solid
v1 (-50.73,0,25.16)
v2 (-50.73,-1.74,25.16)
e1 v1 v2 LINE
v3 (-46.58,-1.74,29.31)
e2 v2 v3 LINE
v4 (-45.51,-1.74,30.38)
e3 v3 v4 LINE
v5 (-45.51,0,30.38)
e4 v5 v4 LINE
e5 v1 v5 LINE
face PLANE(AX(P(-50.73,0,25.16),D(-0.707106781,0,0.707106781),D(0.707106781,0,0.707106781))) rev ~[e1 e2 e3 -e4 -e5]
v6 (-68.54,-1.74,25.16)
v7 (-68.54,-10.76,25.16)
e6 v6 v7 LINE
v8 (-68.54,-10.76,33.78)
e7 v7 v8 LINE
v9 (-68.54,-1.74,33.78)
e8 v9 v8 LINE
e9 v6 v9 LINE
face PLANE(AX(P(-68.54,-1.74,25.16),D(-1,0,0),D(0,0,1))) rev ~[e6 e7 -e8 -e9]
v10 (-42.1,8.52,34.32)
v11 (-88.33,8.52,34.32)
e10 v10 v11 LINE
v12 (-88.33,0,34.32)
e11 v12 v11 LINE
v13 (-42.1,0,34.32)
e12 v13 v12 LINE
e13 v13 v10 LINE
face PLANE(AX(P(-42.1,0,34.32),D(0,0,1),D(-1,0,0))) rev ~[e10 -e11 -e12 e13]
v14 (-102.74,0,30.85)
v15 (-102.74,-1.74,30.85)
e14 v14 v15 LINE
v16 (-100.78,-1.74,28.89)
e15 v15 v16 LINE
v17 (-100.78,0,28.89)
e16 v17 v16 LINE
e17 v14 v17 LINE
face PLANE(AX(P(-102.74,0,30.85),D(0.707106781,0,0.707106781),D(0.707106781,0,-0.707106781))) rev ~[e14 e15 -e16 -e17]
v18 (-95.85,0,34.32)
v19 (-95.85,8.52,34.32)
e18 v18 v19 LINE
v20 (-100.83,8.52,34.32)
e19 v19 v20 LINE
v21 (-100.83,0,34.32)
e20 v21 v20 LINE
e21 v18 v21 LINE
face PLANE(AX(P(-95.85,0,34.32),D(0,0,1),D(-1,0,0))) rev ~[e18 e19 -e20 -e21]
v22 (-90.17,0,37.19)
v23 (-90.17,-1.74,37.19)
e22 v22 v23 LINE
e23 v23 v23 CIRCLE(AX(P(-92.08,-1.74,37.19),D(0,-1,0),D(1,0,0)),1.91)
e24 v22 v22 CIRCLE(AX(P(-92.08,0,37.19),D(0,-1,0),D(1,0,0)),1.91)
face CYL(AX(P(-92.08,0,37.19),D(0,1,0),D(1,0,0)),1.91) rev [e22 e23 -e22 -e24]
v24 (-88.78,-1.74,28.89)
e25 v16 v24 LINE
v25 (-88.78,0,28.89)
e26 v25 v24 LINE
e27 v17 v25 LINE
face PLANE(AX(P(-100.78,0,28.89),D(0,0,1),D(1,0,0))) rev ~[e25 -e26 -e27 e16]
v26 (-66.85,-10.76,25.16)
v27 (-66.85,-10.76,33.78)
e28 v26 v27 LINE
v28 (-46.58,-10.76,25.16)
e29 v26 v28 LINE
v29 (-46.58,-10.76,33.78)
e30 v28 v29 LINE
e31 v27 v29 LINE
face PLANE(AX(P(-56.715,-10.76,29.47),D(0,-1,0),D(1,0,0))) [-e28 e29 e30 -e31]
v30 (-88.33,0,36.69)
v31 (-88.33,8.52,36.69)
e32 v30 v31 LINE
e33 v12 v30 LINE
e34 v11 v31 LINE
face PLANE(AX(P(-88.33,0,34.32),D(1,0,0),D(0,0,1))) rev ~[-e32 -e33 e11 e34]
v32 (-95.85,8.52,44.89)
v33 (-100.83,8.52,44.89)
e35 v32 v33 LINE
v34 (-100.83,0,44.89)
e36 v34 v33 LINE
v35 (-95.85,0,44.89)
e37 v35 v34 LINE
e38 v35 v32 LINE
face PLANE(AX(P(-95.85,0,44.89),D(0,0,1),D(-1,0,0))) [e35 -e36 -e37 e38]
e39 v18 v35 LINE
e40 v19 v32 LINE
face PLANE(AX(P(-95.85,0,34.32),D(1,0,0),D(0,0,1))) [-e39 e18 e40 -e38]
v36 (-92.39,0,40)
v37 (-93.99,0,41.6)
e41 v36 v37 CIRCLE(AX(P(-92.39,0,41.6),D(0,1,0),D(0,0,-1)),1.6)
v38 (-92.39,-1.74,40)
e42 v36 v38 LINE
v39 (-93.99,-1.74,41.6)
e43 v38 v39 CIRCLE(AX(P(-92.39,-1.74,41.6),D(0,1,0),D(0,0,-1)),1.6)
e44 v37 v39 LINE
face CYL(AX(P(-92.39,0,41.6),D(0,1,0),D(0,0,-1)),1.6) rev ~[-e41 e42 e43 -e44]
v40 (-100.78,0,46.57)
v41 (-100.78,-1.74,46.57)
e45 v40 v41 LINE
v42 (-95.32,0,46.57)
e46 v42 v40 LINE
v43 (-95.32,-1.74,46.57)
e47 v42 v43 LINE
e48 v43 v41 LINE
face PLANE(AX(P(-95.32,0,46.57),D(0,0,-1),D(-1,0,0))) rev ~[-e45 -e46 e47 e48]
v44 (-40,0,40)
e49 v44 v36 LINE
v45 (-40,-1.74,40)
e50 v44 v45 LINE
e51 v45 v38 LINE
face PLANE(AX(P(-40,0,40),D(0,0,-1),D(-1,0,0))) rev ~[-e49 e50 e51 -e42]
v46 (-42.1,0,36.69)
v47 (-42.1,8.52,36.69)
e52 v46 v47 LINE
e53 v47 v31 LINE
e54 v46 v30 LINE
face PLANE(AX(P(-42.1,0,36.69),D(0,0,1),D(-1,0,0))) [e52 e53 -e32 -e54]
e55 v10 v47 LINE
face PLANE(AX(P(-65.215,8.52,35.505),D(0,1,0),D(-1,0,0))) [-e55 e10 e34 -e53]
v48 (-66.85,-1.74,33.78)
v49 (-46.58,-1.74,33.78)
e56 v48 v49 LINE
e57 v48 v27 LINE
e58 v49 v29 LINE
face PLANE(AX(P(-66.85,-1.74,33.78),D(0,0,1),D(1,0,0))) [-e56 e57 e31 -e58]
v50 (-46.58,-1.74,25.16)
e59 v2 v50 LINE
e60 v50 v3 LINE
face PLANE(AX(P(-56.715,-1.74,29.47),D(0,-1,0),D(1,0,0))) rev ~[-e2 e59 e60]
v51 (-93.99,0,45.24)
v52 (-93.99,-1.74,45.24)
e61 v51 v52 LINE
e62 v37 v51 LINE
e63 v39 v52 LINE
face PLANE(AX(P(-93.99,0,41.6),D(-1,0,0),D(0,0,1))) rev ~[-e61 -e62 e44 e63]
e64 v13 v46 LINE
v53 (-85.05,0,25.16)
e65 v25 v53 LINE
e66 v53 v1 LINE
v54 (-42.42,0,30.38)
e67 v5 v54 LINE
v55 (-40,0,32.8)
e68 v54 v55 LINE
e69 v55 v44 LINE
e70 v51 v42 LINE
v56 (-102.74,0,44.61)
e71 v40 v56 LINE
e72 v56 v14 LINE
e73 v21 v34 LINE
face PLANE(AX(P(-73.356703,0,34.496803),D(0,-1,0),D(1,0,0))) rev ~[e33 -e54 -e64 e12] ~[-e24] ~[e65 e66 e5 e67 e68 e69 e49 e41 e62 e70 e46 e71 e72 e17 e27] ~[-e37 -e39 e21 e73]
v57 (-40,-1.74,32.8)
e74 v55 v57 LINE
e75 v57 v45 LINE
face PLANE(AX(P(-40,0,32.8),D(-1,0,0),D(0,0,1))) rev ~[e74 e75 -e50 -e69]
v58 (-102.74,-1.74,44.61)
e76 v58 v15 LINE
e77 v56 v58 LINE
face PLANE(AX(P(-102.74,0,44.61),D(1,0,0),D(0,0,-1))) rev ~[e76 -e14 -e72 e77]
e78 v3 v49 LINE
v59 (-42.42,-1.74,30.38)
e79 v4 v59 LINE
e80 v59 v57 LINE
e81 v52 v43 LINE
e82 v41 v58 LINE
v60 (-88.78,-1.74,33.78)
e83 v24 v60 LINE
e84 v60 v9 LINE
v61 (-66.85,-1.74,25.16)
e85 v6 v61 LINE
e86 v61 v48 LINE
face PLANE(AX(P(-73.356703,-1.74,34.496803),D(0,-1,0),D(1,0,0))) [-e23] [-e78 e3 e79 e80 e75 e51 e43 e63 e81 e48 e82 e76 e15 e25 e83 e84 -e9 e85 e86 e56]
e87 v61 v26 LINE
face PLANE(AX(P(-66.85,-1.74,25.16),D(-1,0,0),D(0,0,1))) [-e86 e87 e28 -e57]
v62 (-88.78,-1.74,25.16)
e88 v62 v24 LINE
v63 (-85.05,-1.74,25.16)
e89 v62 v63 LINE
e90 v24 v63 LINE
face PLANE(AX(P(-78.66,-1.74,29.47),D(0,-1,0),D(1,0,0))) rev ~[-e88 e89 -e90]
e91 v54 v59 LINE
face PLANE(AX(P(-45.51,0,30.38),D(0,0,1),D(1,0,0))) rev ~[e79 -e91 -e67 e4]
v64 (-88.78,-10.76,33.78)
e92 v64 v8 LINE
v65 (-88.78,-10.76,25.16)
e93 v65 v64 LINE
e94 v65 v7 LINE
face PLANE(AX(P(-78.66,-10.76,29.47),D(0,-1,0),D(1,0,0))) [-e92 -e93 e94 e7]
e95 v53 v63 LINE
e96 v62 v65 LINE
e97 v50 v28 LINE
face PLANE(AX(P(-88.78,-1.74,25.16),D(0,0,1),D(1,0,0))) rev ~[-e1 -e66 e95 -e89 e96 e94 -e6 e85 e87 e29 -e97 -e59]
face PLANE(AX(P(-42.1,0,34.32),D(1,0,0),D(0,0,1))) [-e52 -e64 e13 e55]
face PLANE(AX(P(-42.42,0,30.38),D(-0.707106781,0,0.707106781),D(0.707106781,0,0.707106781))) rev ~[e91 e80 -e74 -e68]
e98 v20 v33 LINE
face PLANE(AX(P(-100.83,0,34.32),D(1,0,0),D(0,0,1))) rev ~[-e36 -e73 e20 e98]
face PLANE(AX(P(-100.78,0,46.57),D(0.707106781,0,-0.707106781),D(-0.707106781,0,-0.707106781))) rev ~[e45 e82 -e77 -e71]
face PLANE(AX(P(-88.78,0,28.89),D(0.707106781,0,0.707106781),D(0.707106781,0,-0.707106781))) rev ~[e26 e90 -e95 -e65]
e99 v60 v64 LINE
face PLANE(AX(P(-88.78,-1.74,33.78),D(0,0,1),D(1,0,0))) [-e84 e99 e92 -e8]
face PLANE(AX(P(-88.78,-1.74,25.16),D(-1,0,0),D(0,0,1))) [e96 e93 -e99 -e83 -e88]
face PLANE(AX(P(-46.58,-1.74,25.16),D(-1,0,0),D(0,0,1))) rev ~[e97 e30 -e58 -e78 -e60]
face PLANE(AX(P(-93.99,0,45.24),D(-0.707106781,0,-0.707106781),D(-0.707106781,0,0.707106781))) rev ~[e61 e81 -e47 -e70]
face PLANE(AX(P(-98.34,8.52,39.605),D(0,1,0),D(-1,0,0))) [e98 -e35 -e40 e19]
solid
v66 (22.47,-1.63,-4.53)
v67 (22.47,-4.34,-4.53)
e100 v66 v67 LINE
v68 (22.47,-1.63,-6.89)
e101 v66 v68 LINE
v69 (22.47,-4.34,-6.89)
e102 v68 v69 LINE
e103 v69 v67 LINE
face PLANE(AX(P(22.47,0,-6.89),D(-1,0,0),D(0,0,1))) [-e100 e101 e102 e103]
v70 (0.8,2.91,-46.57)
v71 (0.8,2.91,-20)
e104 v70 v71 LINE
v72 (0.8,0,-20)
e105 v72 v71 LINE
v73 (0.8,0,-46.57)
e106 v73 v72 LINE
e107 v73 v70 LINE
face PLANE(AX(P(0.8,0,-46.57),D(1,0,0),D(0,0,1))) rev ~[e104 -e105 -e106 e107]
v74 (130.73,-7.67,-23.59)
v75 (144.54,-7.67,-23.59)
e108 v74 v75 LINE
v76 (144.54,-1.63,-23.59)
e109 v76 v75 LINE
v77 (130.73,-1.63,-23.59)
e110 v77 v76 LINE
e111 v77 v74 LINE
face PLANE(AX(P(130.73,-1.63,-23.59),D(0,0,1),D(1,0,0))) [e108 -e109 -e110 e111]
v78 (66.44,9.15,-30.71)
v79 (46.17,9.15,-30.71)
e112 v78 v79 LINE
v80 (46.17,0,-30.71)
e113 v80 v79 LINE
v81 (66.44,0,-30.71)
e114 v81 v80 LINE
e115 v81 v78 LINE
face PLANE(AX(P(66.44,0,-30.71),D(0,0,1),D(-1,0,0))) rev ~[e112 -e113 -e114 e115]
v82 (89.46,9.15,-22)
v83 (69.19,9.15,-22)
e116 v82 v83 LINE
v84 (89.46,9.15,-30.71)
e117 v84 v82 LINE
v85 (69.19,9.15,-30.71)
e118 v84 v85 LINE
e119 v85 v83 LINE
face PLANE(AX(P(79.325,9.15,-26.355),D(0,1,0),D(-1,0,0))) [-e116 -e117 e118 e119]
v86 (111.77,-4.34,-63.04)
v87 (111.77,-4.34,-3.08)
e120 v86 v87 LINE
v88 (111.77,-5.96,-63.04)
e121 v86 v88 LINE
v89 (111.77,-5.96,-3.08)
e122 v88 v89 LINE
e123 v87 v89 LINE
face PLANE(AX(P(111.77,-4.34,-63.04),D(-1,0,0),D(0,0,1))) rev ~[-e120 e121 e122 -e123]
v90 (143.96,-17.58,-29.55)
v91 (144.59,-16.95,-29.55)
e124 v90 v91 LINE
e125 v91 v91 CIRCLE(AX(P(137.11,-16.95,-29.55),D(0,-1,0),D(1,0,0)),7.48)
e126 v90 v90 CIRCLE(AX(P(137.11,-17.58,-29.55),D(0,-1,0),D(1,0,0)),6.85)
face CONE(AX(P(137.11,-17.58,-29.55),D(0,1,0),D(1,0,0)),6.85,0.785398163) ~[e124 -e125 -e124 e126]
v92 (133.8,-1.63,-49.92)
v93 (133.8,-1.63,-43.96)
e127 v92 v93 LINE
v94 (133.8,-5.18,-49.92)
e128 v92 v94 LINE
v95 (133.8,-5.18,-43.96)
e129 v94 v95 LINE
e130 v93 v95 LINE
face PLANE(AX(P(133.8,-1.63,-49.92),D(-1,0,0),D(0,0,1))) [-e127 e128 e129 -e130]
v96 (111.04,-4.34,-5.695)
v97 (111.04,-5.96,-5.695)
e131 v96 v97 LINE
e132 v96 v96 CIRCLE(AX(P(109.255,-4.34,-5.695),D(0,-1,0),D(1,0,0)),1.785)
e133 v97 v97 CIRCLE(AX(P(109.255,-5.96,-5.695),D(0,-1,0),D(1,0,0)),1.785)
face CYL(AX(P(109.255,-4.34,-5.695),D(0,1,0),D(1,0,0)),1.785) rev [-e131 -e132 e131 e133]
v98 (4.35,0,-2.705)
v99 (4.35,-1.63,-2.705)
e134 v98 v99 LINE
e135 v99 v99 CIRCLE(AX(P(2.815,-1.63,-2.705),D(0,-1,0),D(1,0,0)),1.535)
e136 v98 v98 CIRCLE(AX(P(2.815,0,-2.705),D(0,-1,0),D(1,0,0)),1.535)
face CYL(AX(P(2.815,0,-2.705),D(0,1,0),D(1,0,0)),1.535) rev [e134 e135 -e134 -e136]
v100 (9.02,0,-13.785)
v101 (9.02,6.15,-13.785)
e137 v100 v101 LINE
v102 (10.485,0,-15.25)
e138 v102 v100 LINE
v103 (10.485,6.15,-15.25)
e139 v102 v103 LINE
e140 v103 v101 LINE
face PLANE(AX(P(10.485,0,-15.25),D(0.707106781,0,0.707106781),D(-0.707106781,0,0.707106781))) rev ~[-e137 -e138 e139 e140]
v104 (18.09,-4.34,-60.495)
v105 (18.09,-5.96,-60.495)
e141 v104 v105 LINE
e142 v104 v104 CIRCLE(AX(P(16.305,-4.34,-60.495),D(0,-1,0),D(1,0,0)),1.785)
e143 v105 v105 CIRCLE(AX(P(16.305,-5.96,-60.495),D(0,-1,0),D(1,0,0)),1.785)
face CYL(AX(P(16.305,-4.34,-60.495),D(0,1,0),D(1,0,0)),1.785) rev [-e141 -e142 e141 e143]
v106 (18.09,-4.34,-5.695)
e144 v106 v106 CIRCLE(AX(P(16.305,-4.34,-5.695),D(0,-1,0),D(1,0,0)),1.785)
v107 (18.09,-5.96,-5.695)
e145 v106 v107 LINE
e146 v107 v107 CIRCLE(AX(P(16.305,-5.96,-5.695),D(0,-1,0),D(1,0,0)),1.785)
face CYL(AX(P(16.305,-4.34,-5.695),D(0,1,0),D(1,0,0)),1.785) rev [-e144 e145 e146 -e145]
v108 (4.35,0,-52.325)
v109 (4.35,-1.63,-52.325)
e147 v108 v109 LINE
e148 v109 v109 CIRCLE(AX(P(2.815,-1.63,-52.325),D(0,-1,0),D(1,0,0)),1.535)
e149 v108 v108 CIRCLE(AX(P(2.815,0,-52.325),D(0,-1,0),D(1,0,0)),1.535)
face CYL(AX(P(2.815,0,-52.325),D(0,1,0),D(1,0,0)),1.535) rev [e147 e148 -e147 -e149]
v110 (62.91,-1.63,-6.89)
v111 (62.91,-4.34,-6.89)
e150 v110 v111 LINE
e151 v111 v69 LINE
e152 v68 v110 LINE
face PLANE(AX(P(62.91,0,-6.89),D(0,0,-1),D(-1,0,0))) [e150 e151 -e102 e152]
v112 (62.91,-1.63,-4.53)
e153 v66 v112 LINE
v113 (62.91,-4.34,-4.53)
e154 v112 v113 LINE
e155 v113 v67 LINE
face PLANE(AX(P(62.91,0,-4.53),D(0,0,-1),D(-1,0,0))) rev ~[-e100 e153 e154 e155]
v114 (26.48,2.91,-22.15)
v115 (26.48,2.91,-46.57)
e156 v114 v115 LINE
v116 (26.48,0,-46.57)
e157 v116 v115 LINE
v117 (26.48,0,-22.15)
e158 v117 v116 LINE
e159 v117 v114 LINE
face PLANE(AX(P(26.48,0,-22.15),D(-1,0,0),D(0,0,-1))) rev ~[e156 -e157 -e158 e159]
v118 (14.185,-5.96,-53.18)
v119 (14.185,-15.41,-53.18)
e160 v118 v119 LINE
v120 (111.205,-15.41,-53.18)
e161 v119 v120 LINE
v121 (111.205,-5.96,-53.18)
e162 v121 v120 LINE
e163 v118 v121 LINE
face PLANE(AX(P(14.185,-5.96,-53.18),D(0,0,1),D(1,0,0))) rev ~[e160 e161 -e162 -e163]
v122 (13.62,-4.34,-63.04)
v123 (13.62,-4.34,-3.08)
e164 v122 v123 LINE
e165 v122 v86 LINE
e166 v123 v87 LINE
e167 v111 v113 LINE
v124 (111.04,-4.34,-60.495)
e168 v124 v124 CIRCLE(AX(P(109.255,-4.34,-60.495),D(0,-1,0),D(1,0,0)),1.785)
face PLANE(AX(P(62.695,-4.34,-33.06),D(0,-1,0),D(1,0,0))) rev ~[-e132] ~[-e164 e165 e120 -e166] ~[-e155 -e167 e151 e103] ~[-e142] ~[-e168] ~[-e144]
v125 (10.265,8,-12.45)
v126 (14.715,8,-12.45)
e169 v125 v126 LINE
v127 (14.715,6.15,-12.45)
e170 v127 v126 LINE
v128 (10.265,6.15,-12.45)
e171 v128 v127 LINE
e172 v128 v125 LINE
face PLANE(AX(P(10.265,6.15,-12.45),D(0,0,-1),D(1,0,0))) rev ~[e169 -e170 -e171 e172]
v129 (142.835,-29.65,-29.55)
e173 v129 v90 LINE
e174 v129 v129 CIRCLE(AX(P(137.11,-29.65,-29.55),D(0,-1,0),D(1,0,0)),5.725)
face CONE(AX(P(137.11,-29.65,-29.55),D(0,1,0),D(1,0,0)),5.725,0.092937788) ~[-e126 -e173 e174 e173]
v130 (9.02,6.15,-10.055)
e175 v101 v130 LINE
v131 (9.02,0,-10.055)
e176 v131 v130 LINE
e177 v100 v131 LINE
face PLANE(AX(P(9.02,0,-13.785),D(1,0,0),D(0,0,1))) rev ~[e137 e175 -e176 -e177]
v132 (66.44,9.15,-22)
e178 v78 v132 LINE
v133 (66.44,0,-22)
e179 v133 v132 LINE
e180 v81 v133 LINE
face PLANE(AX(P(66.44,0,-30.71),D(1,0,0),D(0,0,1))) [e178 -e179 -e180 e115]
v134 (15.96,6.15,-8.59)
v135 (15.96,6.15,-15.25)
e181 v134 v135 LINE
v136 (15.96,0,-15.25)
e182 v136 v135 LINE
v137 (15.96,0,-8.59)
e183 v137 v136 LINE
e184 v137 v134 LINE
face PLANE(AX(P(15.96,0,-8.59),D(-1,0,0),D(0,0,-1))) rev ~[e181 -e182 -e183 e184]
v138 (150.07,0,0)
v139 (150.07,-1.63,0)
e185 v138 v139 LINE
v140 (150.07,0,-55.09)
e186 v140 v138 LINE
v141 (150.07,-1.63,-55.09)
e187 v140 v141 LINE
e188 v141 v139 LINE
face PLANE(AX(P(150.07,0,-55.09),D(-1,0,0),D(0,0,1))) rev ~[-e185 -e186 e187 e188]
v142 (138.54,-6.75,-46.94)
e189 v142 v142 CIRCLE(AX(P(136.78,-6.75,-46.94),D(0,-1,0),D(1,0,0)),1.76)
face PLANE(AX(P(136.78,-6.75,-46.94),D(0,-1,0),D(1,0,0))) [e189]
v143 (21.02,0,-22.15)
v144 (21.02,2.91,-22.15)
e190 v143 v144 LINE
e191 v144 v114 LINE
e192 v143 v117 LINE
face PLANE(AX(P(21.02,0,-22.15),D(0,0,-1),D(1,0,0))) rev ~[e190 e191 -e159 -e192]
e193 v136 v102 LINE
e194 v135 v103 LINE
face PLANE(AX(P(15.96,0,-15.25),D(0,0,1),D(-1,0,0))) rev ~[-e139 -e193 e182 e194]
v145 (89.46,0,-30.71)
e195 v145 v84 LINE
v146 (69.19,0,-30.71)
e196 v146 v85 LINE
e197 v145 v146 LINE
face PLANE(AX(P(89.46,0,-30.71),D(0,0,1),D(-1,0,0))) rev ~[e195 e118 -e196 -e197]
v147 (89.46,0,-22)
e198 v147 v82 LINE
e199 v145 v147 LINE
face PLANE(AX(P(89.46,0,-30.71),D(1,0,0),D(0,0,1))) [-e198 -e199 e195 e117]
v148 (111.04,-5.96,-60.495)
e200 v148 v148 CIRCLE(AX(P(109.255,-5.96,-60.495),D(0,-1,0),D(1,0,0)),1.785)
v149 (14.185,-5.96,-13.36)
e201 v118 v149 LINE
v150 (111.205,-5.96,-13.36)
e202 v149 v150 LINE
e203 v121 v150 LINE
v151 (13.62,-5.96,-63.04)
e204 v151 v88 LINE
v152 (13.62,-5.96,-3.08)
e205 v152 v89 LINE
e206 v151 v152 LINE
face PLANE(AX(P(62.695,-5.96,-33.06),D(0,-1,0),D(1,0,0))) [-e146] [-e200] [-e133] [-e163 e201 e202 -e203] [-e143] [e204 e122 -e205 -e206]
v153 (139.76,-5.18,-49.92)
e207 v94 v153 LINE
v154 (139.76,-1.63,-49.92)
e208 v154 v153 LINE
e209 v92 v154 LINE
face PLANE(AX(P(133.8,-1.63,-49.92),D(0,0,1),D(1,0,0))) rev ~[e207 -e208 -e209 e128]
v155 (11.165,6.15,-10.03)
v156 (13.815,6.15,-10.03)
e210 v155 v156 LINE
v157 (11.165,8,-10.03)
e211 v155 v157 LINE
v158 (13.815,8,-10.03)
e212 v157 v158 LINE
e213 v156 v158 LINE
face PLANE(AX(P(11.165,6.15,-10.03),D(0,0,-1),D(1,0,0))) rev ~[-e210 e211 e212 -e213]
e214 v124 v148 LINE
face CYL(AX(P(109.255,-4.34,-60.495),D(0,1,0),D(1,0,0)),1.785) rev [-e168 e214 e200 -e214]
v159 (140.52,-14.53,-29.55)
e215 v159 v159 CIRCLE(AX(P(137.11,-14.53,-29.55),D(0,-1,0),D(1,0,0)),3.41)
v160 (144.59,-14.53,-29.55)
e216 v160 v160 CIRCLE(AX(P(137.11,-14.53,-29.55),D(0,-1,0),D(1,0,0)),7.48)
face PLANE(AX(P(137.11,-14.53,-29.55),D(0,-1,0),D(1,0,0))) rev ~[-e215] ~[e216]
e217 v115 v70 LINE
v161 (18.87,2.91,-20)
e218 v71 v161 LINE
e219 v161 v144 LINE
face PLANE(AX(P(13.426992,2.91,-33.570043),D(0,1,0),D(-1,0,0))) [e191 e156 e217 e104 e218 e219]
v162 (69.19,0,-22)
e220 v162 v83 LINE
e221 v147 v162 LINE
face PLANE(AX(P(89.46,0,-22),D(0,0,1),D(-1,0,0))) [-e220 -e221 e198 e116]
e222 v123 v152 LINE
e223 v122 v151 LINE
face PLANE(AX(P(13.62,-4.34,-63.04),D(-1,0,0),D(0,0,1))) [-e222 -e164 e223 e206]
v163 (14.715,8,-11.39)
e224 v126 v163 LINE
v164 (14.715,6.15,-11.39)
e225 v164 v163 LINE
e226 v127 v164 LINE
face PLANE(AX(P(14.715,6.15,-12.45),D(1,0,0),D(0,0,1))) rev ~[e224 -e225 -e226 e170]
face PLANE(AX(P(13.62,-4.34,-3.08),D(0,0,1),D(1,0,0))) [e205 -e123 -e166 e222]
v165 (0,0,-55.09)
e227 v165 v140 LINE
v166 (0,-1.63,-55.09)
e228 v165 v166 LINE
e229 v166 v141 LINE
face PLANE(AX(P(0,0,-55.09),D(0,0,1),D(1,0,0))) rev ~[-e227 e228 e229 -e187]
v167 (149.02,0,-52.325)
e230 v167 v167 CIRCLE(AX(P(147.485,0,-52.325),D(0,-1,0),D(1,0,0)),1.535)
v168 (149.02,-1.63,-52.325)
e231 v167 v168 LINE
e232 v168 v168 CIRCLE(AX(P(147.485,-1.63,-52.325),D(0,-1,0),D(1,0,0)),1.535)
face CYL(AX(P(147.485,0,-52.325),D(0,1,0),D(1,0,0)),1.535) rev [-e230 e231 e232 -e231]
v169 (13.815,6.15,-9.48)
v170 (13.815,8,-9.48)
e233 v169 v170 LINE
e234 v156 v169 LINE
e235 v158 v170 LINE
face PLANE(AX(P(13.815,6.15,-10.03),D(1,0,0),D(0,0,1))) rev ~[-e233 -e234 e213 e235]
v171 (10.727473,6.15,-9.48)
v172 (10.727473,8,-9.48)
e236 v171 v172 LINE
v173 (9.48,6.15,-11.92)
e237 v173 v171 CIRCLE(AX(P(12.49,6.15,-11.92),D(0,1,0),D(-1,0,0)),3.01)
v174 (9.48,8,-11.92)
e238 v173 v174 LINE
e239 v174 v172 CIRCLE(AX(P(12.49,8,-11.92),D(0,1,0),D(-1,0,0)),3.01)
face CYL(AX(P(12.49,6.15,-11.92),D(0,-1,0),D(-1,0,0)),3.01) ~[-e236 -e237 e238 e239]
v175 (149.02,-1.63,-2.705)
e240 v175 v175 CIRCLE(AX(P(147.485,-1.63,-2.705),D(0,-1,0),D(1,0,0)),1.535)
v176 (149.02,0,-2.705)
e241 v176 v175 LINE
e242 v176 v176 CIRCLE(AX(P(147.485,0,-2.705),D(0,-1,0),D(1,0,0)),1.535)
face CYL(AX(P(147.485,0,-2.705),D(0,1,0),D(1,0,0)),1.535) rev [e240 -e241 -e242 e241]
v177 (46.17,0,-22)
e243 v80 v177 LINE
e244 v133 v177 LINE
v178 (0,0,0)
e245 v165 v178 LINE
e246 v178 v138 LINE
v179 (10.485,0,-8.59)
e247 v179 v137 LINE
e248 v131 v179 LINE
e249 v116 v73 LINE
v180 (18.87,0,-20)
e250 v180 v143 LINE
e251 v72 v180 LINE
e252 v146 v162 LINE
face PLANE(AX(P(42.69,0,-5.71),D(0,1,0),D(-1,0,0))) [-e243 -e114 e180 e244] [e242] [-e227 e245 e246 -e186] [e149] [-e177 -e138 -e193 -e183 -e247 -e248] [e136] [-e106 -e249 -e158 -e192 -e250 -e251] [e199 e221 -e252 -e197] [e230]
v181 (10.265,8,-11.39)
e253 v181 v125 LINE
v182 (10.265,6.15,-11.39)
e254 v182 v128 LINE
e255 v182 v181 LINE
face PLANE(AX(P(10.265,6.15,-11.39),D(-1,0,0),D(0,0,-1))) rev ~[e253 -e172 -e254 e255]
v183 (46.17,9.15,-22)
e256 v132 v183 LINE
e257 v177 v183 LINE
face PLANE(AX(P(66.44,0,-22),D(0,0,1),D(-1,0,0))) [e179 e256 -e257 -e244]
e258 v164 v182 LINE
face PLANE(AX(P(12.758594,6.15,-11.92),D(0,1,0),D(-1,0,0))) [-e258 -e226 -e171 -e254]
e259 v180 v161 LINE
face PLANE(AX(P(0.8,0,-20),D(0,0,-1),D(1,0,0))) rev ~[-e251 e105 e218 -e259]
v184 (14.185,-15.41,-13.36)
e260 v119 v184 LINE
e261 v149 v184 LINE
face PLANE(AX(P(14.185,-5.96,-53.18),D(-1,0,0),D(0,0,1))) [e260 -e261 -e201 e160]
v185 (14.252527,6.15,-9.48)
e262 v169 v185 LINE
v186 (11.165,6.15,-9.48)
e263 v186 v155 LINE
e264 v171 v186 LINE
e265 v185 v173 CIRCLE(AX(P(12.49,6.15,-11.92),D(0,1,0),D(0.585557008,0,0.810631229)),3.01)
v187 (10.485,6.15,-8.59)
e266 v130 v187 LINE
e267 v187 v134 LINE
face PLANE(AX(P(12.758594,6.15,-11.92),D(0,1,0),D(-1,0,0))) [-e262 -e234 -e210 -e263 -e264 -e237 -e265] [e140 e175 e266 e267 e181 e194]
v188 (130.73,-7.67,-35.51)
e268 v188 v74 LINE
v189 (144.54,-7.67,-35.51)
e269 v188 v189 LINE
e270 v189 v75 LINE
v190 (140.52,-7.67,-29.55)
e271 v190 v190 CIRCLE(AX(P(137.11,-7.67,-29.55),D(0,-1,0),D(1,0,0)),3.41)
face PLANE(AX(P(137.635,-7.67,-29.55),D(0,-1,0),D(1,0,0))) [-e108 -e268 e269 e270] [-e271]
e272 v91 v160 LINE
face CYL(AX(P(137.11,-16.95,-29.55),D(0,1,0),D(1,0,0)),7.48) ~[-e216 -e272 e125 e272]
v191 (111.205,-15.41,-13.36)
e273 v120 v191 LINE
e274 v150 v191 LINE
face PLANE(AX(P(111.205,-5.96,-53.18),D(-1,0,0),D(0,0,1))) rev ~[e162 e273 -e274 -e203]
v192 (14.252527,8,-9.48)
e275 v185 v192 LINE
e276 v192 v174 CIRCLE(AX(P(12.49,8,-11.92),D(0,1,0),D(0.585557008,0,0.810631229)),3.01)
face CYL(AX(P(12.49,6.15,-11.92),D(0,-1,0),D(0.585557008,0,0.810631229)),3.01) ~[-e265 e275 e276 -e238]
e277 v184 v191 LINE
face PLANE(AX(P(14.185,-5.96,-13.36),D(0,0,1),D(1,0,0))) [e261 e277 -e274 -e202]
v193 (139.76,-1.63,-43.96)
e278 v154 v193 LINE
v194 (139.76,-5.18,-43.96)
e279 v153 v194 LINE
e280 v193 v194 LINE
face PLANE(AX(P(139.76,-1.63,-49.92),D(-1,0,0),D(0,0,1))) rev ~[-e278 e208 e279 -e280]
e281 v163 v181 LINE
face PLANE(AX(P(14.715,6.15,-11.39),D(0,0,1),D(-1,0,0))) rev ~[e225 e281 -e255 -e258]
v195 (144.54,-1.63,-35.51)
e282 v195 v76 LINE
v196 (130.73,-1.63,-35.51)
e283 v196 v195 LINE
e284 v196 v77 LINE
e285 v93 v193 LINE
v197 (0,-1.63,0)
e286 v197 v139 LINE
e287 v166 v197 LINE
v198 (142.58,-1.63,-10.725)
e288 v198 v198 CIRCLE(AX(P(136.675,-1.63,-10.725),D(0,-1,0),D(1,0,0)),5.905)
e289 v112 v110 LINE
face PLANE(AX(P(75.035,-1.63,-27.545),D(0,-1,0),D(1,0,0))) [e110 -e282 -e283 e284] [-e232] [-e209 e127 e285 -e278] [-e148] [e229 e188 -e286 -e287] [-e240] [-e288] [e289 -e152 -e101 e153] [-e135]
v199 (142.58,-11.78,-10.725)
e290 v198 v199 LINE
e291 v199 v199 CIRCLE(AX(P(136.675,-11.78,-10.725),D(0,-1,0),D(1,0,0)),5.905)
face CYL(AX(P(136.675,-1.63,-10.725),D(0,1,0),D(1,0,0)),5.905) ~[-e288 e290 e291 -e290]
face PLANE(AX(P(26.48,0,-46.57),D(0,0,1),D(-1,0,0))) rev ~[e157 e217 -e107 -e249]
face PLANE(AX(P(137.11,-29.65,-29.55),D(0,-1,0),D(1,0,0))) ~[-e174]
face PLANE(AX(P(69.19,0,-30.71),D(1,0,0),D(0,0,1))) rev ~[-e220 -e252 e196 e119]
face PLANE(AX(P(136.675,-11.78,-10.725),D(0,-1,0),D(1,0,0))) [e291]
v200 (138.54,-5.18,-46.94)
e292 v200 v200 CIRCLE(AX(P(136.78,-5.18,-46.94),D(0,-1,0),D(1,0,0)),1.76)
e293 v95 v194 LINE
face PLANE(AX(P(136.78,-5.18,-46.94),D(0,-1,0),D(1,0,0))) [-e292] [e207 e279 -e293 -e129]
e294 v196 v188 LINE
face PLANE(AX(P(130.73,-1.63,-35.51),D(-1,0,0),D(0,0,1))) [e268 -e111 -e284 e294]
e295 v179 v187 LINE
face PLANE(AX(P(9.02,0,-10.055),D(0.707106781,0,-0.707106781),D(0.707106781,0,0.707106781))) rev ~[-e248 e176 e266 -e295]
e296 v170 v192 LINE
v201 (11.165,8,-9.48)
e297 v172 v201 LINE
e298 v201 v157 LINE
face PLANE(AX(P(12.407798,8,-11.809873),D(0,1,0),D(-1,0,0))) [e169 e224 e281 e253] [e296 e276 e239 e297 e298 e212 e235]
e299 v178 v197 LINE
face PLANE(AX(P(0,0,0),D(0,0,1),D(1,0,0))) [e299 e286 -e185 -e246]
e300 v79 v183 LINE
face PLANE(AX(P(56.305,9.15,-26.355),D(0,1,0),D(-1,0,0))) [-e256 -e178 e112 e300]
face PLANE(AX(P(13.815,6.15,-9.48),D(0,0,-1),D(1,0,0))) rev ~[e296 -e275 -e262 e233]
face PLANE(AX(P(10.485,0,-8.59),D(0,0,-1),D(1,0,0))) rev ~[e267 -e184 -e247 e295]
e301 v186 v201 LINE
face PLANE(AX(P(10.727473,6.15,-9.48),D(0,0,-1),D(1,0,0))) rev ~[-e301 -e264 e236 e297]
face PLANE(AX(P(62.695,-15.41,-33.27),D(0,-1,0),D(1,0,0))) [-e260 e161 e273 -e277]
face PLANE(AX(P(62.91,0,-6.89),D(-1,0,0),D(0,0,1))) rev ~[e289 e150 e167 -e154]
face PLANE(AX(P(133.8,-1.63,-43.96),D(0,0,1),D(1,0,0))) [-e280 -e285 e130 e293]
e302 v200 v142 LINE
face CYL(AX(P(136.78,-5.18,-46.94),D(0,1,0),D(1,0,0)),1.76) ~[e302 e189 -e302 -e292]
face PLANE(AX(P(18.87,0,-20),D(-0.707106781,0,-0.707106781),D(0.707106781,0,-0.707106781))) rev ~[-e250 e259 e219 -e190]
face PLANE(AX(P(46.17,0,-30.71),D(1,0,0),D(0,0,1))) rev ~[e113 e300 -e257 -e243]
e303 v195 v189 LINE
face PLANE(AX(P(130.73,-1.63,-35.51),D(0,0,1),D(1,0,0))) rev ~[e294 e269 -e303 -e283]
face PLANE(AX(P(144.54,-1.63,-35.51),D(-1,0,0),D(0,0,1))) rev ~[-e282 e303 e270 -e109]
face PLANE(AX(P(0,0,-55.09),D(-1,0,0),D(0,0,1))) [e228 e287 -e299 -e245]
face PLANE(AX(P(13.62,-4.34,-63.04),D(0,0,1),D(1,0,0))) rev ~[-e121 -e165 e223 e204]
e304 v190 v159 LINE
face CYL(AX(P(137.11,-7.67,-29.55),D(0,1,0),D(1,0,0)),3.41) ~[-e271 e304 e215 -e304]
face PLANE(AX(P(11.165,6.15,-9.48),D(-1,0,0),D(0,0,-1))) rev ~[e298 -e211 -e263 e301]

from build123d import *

# Parameters (mm, degrees)
F0_W      = 150.07
F0_H      = 55.09
F0_R      = 1.535
F1_DEPTH  = 1.63
F3_W      = 98.15
F3_H      = 59.96
F3_R      = 1.785
F4_DEPTH  = 1.62
F5_W      = 97.02
F5_H      = 39.82
F6_DEPTH  = 9.45
F7_W      = 5.96
F7_H      = 5.96
F8_DEPTH  = 3.55
F9_R      = 1.76
F10_DEPTH = 1.57
F11_W     = 13.81
F11_H     = 11.92
F12_DEPTH = 6.04
F13_R     = 3.41
F14_DEPTH = 6.86
F19_R     = 5.905
F20_DEPTH = 10.15
F22_DEPTH = 2.91
F24_DEPTH = 6.15
F26_DEPTH = 1.85
F27_W     = 20.27
F27_H     = 8.71
F28_DEPTH = 9.15
F29_R     = 1.91
F30_DEPTH = 1.74
F31_W     = 20.24
F31_H     = 8.62
F31_W_2   = 20.27
F32_DEPTH = 9.02
F33_W     = 4.98
F33_H     = 10.57
F33_W_2   = 46.23
F33_H_2   = 2.37
F34_DEPTH = 8.52
F35_W     = 40.44
F35_H     = 2.36
F36_DEPTH = 4.34


with BuildPart() as f1:
    # F0 (on Front) → F1 (new body)
    with BuildSketch(Plane.XZ):
        with Locations((75.035, -27.545)):
            Rectangle(F0_W, F0_H)
        with Locations((2.815, -52.325)):
            Circle(F0_R, mode=Mode.SUBTRACT)
        with Locations((147.485, -52.325)):
            Circle(F0_R, mode=Mode.SUBTRACT)
        with Locations((2.815, -2.705)):
            Circle(F0_R, mode=Mode.SUBTRACT)
        with Locations((147.485, -2.705)):
            Circle(F0_R, mode=Mode.SUBTRACT)
    extrude(amount=F1_DEPTH)

    # F7 (on face) → F8 (join)
    with BuildSketch(Plane.XZ.offset(1.63)):
        with Locations((136.78, -46.94)):
            Rectangle(F7_W, F7_H)
    extrude(amount=F8_DEPTH)

    # F9 (on face) → F10 (join)
    with BuildSketch(Plane.XZ.offset(5.18)):
        with Locations((136.78, -46.94)):
            Circle(F9_R)
    extrude(amount=F10_DEPTH)

    # F11 (on face) → F12 (join)
    with BuildSketch(Plane.XZ.offset(1.63)):
        with Locations((137.635, -29.55)):
            Rectangle(F11_W, F11_H)
    extrude(amount=F12_DEPTH)

    # F13 (on face) → F14 (join)
    with BuildSketch(Plane.XZ.offset(7.67)):
        with Locations((137.11, -29.55)):
            Circle(F13_R)
    extrude(amount=F14_DEPTH)

    # F17 (on plane+point) → F18 (revolve)
    with BuildSketch(Plane.XY.offset(-29.55)):
        Polygon((144.59, -14.53), (137.11, -14.53), (137.11, -29.65), (142.835, -29.65), (143.96, -17.58), (144.59, -16.95), align=None)
    revolve(axis=Axis((137.11, -22.09, -29.55), (0, -1, 0)))

    # F19 (on face) → F20 (join)
    with BuildSketch(Plane.XZ.offset(1.63)):
        with Locations((136.675, -10.725)):
            Circle(F19_R)
    extrude(amount=F20_DEPTH)

    # F21 (on face) → F22 (join)
    with BuildSketch(Plane(origin=(0, 0, 0), x_dir=(-1, 0, 0), z_dir=(0, 1, 0))):
        Polygon((-26.48, -46.57), (-0.8, -46.57), (-0.8, -20), (-18.87, -20), (-21.02, -22.15), (-26.48, -22.15), align=None)
    extrude(amount=F22_DEPTH)

    # F23 (on face) → F24 (join)
    with BuildSketch(Plane(origin=(0, 0, 0), x_dir=(-1, 0, 0), z_dir=(0, 1, 0))):
        Polygon((-9.02, -13.785), (-9.02, -11.92), (-9.02, -10.055), (-10.485, -8.59), (-15.96, -8.59), (-15.96, -11.92), (-15.96, -15.25), (-10.485, -15.25), align=None)
    extrude(amount=F24_DEPTH)

    # F25 (on face) → F26 (join)
    with BuildSketch(Plane(origin=(0, 6.15, 0), x_dir=(-1, 0, 0), z_dir=(0, 1, 0))):
        with BuildLine():
            ThreePointArc((-14.2525265955, -9.48), (-13.8601997934, -14.6000471127), (-9.48, -11.92))
            ThreePointArc((-9.48, -11.92), (-9.8099528873, -10.5498002066), (-10.7274734045, -9.48))
            Line((-10.7274734045, -9.48), (-11.165, -9.48))
            Line((-11.165, -9.48), (-11.165, -10.03))
            Line((-11.165, -10.03), (-12.49, -10.03))
            Line((-12.49, -10.03), (-13.815, -10.03))
            Line((-13.815, -10.03), (-13.815, -9.48))
            Line((-13.815, -9.48), (-14.2525265955, -9.48))
        make_face()
        Polygon((-14.715, -11.92), (-14.715, -11.39), (-12.49, -11.39), (-10.265, -11.39), (-10.265, -11.92), (-10.265, -12.45), (-12.49, -12.45), (-14.715, -12.45), align=None, mode=Mode.SUBTRACT)
    extrude(amount=F26_DEPTH)

    # F27 (on face) → F28 (join)
    with BuildSketch(Plane(origin=(0, 0, 0), x_dir=(-1, 0, 0), z_dir=(0, 1, 0))):
        with Locations((-56.305, -26.355)):
            Rectangle(F27_W, F27_H)
        with Locations((-79.325, -26.355)):
            Rectangle(F27_W, F27_H)
    extrude(amount=F28_DEPTH)



with BuildPart() as f4:
    # F3 (on offset) → F4 (new body)
    with BuildSketch(Plane.XZ.offset(4.34)):
        with Locations((62.695, -33.06)):
            Rectangle(F3_W, F3_H)
        with Locations((16.305, -60.495)):
            Circle(F3_R, mode=Mode.SUBTRACT)
        with Locations((109.255, -60.495)):
            Circle(F3_R, mode=Mode.SUBTRACT)
        with Locations((16.305, -5.695)):
            Circle(F3_R, mode=Mode.SUBTRACT)
        with Locations((109.255, -5.695)):
            Circle(F3_R, mode=Mode.SUBTRACT)
    extrude(amount=F4_DEPTH)

    # F5 (on face) → F6 (join)
    with BuildSketch(Plane.XZ.offset(5.96)):
        with Locations((62.695, -33.27)):
            Rectangle(F5_W, F5_H)
    extrude(amount=F6_DEPTH)


with BuildPart() as f30:
    # F29 (on Front) → F30 (new body)
    with BuildSketch(Plane.XZ):
        with BuildLine():
            Line((-40, 32.8), (-40, 40))
            Line((-40, 40), (-92.39, 40))
            ThreePointArc((-92.39, 40), (-93.5213708499, 40.4686291501), (-93.99, 41.6))
            Line((-93.99, 41.6), (-93.99, 45.24))
            Line((-93.99, 45.24), (-95.32, 46.57))
            Line((-95.32, 46.57), (-100.78, 46.57))
            Line((-100.78, 46.57), (-102.74, 44.61))
            Line((-102.74, 44.61), (-102.74, 30.85))
            Line((-102.74, 30.85), (-100.78, 28.89))
            Line((-100.78, 28.89), (-88.78, 28.89))
            Line((-88.78, 28.89), (-85.05, 25.16))
            Line((-85.05, 25.16), (-50.73, 25.16))
            Line((-50.73, 25.16), (-45.51, 30.38))
            Line((-45.51, 30.38), (-42.42, 30.38))
            Line((-42.42, 30.38), (-40, 32.8))
        make_face()
        with Locations((-92.08, 37.19)):
            Circle(F29_R, mode=Mode.SUBTRACT)
    extrude(amount=F30_DEPTH)

    # F31 (on face) → F32 (join)
    with BuildSketch(Plane.XZ.offset(1.74)):
        with Locations((-78.66, 29.47)):
            Rectangle(F31_W, F31_H)
        with Locations((-56.715, 29.47)):
            Rectangle(F31_W_2, F31_H)
    extrude(amount=F32_DEPTH)

    # F33 (on face) → F34 (join)
    with BuildSketch(Plane(origin=(0, 0, 0), x_dir=(-1, 0, 0), z_dir=(0, 1, 0))):
        with Locations((98.34, 39.605)):
            Rectangle(F33_W, F33_H)
        with Locations((65.215, 35.505)):
            Rectangle(F33_W_2, F33_H_2)
    extrude(amount=F34_DEPTH)


with BuildPart() as f1_1:
    add(f1.part)

    add(f4.part)  # F36 merges F4
    # F35 (on face) → F36 (join, through all)
    with BuildSketch(Plane(origin=(0, 0, 0), x_dir=(-1, 0, 0), z_dir=(0, 1, 0))):
        with Locations((-42.69, -5.71)):
            Rectangle(F35_W, F35_H)
    extrude(amount=-F36_DEPTH)


solid = Compound([f30.part, f1_1.part])
